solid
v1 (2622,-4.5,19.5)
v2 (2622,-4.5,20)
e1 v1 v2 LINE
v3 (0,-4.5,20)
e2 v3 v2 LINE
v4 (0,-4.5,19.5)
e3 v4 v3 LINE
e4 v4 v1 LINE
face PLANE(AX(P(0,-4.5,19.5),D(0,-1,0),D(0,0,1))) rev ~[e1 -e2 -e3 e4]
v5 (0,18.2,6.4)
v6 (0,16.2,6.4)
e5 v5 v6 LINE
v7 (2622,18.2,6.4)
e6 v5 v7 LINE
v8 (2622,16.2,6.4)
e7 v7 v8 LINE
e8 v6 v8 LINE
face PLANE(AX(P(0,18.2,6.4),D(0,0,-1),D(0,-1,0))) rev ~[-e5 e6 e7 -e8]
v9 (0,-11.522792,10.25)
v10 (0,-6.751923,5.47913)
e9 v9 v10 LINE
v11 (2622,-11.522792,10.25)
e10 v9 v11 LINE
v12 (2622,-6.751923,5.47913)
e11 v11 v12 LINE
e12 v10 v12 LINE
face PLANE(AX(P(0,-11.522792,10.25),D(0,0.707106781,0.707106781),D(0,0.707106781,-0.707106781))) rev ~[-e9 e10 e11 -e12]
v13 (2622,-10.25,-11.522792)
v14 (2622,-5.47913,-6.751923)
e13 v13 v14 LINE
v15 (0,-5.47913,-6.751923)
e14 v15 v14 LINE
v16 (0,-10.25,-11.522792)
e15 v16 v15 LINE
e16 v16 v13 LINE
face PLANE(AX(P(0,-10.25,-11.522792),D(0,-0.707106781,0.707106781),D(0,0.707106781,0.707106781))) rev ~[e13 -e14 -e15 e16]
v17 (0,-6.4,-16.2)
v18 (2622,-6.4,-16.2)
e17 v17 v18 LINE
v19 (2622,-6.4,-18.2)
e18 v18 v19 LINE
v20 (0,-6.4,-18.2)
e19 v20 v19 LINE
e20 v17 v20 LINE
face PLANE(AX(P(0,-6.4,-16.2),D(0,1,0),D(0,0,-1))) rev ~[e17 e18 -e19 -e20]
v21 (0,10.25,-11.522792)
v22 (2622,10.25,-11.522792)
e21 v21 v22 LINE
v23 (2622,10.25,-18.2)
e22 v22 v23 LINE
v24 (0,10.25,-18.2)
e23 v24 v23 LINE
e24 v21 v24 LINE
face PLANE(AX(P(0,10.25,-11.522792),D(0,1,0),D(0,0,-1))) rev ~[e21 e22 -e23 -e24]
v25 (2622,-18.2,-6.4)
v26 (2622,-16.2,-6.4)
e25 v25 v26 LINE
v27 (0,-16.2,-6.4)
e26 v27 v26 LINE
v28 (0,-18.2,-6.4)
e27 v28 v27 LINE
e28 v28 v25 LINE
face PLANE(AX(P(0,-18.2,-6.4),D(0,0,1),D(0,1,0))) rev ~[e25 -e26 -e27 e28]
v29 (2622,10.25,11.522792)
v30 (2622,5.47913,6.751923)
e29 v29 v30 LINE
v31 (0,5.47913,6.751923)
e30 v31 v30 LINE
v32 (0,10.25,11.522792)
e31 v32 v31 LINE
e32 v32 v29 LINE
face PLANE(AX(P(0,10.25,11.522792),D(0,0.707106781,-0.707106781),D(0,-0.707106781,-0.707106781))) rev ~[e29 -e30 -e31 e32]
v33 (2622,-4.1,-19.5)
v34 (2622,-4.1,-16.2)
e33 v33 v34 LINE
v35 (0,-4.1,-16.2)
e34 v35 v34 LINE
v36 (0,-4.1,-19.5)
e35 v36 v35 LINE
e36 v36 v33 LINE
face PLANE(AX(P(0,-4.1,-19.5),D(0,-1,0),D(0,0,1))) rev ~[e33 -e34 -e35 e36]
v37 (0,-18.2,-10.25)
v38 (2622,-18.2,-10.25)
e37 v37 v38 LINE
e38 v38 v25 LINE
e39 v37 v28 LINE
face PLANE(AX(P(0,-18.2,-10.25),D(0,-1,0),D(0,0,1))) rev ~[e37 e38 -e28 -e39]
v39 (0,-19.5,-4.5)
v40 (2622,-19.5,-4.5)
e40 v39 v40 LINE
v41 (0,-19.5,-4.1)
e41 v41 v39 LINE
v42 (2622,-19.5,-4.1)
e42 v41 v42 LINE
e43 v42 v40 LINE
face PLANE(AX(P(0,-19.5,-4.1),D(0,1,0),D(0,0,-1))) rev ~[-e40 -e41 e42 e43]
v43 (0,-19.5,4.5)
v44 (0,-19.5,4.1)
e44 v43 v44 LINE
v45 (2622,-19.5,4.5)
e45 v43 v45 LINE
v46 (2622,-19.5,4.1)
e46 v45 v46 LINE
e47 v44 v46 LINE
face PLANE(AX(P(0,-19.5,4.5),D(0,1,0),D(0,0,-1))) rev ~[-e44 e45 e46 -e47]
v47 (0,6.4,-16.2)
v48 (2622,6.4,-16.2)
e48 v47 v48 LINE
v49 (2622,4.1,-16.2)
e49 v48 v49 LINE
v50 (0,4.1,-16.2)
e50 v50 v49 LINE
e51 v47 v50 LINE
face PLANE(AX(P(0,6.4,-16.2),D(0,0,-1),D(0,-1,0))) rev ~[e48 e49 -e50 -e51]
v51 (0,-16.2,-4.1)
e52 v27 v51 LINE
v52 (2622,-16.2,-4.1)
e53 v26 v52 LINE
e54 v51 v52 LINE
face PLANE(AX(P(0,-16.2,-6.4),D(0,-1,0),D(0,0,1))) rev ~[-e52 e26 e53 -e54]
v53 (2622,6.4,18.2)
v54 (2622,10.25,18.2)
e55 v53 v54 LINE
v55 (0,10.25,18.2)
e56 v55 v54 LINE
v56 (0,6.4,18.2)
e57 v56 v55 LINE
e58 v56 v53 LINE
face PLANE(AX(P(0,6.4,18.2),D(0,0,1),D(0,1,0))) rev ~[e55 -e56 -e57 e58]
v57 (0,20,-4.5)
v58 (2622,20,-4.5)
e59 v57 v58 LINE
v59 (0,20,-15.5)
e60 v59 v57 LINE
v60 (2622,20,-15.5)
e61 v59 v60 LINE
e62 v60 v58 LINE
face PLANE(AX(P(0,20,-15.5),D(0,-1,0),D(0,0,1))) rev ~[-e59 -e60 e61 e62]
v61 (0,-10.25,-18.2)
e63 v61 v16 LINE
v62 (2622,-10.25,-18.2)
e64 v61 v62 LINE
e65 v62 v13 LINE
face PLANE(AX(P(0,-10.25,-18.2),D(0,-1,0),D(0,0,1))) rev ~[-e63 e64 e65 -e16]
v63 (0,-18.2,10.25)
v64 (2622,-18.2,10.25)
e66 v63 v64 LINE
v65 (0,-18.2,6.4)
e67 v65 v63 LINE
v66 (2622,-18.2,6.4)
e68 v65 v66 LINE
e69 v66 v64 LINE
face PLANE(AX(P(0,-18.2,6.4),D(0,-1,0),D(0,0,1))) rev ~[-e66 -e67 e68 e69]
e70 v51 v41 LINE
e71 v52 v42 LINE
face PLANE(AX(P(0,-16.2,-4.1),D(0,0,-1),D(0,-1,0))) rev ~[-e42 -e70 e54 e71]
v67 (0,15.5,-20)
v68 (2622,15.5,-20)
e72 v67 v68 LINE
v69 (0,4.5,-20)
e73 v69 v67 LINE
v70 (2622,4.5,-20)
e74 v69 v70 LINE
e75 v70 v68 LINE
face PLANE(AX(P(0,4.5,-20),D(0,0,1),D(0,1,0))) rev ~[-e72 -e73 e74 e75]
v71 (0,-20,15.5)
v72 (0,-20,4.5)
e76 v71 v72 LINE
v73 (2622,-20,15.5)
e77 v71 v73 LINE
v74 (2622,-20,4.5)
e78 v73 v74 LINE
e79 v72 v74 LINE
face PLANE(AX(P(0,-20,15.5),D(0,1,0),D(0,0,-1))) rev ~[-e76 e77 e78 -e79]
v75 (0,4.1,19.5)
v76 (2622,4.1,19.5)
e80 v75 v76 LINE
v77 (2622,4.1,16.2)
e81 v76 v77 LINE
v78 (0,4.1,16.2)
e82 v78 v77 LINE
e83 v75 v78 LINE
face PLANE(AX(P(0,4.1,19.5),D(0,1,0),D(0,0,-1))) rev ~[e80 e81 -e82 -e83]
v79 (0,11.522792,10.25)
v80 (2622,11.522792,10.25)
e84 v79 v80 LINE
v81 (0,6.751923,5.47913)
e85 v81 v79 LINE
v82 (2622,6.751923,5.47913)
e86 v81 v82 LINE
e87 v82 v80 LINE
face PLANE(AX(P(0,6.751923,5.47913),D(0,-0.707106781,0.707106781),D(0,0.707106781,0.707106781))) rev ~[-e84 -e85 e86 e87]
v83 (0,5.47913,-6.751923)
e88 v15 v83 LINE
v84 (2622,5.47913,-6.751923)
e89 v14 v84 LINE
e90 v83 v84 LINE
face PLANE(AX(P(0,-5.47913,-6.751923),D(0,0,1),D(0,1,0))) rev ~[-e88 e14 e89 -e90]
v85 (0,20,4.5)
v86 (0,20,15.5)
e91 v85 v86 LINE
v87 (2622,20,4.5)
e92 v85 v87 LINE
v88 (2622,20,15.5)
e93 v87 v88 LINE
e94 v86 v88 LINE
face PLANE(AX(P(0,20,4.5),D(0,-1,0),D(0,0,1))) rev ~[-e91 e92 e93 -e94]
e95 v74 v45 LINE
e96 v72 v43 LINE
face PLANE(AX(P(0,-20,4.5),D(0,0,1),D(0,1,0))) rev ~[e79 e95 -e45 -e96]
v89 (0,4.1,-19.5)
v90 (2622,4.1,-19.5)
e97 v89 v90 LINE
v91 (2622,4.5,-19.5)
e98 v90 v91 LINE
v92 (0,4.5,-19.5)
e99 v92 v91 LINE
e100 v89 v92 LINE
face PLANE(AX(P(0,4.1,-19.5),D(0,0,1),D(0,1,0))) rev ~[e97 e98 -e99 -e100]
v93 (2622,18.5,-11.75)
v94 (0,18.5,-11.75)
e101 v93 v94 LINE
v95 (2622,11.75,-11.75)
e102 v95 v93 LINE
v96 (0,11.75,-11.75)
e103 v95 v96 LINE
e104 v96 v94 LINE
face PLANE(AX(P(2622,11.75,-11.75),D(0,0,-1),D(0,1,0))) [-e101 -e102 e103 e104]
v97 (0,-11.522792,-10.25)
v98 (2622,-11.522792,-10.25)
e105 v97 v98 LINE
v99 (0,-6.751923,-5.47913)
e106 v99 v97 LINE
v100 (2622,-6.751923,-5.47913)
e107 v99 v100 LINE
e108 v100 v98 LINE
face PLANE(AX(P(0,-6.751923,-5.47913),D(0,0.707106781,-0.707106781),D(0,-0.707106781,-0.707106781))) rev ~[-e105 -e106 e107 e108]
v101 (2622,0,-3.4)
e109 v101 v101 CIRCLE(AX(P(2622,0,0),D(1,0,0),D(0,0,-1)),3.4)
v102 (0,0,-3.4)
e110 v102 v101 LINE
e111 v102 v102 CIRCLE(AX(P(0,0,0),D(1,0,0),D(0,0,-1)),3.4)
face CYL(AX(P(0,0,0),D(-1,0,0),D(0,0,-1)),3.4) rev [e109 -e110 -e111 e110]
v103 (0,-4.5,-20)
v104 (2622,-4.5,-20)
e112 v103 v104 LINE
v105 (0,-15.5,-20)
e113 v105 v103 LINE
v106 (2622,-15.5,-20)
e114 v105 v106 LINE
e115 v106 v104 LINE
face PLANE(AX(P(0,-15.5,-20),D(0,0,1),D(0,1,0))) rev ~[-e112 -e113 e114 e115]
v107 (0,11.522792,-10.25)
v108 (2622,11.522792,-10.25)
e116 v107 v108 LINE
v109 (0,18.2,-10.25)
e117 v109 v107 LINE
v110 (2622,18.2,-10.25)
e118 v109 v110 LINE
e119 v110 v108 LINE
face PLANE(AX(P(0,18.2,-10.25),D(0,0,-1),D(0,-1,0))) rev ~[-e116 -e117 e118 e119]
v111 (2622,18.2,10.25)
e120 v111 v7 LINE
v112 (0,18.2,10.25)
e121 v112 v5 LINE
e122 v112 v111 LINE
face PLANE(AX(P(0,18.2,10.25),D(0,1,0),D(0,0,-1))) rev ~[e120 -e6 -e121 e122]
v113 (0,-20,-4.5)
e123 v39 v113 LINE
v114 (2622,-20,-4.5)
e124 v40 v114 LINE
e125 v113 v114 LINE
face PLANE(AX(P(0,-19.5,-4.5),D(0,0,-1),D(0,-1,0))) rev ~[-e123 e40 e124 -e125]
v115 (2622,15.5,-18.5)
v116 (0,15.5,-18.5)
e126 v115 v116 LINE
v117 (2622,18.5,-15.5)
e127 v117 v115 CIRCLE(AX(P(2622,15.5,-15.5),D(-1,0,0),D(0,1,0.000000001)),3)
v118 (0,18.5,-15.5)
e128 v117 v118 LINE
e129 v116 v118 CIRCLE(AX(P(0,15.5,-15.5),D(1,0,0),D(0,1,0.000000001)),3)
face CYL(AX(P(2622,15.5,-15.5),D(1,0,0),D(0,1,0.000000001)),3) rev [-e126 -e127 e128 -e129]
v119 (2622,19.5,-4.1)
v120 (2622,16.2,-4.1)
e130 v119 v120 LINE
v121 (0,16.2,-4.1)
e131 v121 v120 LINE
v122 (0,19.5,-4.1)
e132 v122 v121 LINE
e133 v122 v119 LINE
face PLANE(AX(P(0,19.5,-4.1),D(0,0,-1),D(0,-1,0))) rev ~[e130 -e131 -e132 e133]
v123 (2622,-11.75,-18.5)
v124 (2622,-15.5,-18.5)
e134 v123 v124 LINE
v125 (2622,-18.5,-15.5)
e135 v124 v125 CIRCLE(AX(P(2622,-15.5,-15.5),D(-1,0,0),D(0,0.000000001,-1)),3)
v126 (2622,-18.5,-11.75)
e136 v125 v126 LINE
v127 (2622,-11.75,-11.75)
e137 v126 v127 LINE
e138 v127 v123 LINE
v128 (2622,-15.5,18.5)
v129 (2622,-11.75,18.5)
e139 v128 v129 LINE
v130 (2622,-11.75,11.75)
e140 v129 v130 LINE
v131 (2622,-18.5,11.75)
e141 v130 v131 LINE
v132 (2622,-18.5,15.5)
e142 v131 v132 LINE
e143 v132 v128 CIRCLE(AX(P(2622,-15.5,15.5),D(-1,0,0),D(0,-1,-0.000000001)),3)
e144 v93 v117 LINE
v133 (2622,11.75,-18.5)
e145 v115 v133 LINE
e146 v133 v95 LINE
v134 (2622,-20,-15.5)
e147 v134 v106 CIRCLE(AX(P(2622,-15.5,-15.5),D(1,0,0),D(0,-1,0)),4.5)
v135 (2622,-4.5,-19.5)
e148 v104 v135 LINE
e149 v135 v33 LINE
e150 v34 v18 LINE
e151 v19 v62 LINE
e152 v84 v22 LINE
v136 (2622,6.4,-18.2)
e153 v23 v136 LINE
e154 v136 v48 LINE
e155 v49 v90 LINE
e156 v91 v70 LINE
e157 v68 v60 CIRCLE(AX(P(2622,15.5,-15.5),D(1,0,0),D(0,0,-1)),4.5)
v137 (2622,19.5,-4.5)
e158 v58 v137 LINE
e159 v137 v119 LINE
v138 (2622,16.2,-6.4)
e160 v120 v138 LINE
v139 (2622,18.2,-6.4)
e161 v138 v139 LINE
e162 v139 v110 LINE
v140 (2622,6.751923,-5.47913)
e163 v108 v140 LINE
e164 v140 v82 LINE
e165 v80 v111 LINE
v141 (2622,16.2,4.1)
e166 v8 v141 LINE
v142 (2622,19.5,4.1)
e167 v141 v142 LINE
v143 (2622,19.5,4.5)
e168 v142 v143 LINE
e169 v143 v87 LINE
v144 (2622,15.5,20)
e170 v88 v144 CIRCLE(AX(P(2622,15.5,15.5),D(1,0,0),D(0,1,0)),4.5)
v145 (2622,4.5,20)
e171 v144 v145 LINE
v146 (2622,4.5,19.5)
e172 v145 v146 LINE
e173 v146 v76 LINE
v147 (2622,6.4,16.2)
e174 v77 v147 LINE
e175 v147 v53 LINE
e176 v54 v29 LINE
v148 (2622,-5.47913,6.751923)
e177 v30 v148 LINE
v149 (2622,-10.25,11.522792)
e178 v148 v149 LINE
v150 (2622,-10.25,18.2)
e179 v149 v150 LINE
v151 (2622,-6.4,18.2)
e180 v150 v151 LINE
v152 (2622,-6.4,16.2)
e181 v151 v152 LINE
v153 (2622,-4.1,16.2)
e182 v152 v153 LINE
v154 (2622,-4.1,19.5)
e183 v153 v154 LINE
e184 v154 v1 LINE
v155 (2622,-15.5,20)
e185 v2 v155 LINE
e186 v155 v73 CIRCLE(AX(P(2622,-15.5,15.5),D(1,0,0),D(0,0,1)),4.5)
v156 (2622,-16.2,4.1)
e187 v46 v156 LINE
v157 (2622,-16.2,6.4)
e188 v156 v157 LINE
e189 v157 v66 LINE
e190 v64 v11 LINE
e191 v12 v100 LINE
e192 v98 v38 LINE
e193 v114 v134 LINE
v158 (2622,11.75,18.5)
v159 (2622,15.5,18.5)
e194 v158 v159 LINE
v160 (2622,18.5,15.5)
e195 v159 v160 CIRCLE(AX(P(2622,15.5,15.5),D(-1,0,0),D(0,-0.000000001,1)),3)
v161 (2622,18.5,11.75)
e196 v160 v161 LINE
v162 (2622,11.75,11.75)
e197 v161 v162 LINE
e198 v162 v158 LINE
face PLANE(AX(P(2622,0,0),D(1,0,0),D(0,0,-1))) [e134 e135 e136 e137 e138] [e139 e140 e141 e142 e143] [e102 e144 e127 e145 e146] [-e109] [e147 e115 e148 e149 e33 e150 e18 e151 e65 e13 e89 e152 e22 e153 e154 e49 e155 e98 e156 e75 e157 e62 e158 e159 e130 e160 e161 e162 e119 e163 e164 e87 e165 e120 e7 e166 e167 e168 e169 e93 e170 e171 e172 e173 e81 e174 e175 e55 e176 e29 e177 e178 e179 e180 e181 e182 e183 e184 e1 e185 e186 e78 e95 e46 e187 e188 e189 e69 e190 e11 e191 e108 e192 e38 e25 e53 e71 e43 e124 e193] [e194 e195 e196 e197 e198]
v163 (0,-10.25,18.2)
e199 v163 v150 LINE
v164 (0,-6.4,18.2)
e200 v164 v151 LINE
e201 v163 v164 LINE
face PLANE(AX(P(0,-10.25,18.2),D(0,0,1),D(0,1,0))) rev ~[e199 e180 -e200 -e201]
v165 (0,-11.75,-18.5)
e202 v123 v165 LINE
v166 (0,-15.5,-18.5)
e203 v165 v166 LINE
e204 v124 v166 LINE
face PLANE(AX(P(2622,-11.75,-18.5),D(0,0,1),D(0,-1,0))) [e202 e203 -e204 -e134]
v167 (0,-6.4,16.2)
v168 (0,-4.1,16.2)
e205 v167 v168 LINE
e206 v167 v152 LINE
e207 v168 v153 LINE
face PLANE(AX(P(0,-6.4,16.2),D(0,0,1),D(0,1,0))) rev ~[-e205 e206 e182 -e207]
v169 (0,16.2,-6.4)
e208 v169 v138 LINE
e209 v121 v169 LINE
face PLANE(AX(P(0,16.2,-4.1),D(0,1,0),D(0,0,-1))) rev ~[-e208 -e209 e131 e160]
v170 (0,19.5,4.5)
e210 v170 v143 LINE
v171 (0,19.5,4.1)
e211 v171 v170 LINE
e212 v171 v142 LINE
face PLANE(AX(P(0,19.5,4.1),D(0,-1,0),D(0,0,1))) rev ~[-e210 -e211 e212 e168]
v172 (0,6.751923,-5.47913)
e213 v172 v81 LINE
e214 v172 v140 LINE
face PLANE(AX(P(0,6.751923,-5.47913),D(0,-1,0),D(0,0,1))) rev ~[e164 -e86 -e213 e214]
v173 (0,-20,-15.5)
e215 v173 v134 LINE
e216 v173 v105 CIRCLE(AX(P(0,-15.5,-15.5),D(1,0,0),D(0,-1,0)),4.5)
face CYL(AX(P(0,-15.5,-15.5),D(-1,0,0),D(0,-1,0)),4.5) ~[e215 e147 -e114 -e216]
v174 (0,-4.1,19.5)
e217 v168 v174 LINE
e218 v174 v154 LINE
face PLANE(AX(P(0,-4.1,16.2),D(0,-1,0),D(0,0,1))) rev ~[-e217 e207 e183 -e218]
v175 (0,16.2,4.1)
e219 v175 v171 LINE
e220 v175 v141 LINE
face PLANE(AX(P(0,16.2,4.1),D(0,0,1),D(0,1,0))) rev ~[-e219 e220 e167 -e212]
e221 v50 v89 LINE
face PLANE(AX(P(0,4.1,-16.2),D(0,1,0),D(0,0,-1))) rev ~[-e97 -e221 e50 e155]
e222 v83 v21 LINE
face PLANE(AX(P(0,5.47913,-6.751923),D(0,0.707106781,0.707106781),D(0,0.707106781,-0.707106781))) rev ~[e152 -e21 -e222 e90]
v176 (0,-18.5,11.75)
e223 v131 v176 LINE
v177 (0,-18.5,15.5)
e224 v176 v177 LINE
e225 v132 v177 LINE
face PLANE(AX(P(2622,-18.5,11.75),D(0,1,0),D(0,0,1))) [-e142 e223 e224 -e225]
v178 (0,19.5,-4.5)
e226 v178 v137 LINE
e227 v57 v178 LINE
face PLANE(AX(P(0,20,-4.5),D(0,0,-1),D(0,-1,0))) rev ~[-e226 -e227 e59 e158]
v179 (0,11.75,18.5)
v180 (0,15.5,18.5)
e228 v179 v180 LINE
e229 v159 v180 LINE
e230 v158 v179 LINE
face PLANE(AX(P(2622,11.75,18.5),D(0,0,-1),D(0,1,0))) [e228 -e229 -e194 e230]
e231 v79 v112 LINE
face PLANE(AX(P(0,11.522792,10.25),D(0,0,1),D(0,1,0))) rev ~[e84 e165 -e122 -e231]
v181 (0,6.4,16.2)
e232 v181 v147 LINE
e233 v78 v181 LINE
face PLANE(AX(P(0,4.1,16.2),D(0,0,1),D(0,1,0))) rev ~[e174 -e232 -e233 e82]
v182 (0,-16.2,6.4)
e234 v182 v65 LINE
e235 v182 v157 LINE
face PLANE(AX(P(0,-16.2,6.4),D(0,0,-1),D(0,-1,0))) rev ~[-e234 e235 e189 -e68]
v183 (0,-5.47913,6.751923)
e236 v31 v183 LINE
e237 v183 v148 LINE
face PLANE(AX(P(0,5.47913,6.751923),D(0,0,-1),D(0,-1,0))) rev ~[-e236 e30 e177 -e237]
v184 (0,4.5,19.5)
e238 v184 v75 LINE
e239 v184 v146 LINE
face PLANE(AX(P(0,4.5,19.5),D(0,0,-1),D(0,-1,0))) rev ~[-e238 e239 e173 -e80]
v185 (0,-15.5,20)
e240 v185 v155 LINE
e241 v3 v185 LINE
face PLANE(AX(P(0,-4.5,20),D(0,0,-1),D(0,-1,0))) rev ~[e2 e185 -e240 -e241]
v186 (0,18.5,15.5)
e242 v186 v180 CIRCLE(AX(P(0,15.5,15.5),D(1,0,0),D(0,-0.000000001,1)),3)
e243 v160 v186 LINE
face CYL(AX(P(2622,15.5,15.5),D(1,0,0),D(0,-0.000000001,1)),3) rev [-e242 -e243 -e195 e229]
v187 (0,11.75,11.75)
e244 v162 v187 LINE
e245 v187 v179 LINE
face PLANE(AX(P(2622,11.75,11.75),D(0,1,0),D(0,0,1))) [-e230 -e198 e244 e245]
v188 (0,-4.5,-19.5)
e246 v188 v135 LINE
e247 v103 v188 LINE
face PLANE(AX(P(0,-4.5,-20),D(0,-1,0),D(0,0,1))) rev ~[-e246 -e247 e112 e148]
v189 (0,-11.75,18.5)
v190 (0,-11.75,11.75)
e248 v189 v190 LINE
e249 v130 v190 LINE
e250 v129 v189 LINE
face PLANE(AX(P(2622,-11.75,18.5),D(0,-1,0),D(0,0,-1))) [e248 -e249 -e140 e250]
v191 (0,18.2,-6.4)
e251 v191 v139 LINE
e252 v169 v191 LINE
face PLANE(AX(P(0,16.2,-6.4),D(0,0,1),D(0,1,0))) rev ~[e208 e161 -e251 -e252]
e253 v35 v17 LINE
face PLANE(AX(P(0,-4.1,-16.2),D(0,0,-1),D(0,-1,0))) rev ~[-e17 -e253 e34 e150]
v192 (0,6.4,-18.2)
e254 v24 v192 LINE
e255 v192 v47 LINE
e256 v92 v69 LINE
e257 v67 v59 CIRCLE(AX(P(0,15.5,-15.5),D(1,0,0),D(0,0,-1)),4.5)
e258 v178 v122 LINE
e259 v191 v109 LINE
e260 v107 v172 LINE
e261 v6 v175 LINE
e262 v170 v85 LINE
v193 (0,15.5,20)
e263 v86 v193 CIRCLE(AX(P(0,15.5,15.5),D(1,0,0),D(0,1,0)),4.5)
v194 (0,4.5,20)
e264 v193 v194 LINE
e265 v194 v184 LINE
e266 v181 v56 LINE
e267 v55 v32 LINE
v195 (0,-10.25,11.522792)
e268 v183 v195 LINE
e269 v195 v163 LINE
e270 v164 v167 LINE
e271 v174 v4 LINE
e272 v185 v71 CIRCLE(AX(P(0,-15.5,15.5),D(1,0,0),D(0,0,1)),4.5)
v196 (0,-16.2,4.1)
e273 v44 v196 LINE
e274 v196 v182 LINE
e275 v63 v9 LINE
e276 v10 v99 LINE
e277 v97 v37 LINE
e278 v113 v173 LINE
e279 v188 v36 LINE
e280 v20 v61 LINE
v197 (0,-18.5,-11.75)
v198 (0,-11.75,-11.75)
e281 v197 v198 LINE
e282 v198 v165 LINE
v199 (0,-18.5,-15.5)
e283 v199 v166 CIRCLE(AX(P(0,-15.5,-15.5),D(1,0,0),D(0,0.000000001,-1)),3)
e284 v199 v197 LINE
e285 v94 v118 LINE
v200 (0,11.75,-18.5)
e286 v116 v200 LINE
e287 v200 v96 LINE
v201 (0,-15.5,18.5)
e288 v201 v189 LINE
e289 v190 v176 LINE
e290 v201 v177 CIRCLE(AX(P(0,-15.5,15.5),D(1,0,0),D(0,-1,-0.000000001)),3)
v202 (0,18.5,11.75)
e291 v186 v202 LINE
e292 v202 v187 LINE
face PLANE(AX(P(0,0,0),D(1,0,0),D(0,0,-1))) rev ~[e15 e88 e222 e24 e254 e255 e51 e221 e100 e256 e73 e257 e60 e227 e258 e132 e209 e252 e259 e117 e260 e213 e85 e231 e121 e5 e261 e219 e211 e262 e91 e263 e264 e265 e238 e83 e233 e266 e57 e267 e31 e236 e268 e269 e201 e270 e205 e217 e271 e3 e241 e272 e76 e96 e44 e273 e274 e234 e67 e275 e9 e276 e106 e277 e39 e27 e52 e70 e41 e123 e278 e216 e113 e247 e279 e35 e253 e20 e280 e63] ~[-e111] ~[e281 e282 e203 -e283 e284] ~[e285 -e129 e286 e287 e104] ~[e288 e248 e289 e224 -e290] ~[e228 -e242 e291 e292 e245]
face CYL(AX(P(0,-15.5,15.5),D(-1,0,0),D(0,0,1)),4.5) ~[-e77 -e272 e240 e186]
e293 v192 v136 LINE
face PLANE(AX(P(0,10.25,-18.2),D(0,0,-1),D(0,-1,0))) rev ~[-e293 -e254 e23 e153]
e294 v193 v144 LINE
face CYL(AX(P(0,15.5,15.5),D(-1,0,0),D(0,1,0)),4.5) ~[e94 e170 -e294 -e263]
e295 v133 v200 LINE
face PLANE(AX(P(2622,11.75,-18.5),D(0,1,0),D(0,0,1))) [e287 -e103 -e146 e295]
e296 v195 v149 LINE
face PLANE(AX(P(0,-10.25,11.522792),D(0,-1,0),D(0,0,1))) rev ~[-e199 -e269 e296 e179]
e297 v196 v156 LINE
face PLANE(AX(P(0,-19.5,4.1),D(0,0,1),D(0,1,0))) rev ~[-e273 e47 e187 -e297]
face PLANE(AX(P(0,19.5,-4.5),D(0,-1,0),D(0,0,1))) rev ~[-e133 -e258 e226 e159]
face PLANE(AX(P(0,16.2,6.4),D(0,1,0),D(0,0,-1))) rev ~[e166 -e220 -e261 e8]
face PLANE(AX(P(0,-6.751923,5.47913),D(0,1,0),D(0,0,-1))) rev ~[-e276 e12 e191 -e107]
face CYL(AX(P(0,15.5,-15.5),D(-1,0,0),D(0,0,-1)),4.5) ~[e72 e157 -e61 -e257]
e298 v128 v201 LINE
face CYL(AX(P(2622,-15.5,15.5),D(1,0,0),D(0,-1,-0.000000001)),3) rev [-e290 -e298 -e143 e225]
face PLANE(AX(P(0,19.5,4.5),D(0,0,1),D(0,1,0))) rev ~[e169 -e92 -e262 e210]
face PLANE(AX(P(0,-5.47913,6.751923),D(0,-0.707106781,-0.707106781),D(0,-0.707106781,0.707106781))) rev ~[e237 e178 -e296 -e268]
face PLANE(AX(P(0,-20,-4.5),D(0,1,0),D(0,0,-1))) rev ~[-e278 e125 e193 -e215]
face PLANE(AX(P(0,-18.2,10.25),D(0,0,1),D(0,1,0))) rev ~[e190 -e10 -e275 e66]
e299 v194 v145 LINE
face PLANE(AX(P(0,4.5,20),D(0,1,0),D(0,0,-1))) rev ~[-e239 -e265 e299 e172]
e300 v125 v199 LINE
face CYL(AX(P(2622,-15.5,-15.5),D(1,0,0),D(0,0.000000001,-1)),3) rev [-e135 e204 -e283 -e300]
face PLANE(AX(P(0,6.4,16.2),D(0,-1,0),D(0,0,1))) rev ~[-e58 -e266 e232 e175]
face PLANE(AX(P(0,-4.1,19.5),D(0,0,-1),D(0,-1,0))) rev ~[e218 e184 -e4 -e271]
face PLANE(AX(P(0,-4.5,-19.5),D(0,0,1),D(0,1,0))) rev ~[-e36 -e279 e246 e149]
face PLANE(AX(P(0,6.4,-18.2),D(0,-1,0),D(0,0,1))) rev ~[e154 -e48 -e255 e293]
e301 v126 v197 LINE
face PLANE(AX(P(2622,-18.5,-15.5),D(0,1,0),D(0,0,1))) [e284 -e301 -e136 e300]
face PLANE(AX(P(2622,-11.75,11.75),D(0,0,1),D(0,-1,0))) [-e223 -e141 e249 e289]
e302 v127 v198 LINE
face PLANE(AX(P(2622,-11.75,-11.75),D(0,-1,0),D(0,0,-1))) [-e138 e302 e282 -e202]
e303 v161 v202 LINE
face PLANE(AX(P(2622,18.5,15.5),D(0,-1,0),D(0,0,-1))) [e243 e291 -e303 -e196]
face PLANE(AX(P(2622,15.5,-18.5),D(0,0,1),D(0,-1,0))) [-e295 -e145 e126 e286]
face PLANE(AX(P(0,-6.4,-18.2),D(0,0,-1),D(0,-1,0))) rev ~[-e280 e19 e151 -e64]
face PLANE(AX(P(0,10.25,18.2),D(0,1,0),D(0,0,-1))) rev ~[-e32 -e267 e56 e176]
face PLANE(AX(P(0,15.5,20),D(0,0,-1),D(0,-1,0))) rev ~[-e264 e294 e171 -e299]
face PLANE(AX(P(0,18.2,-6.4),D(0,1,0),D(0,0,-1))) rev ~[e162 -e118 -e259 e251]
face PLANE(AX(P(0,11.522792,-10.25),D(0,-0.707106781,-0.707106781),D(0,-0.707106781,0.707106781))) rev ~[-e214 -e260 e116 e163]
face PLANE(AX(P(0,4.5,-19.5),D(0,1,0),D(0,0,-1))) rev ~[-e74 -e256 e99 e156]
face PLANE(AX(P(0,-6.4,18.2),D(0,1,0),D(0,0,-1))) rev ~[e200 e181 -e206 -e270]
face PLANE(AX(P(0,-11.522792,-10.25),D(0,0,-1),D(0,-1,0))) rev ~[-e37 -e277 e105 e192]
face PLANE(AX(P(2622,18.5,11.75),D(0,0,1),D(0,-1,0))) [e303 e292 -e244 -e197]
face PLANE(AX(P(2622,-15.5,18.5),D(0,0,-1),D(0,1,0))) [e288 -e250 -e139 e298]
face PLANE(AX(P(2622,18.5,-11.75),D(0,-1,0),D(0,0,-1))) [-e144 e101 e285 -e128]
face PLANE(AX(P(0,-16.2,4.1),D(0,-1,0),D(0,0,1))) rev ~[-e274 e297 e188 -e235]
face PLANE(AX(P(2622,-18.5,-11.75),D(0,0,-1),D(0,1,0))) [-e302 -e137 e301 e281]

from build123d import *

# Parameters (mm, degrees)
SKETCH_3_R          = 3.4
EXTRUDE_1_DEPTH     = 2622
CUT_EXTRUDE_3_DEPTH = 3297


with BuildPart() as part:
    # 草图3 → 凸台-拉伸1 (new body)
    with BuildSketch(Plane(origin=(0, 0, 0), x_dir=(0, 0, -1), z_dir=(1, 0, 0))):
        with BuildLine():
            Line((-15.5, -20), (-4.5, -20))
            Line((-4.5, -20), (-4.5, -19.5))
            Line((-4.5, -19.5), (-4.1, -19.5))
            Line((-4.1, -19.5), (-4.1, -16.2))
            Line((-4.1, -16.2), (-6.4, -16.2))
            Line((-6.4, -16.2), (-6.4, -18.2))
            Line((-6.4, -18.2), (-10.25, -18.2))
            Line((-10.25, -18.2), (-10.25, -11.522792206))
            Line((-10.25, -11.522792206), (-5.479130441, -6.751922647))
            Line((-5.479130441, -6.751922647), (5.479130441, -6.751922647))
            Line((5.479130441, -6.751922647), (10.25, -11.522792206))
            Line((10.25, -11.522792206), (10.25, -18.2))
            Line((10.25, -18.2), (6.4, -18.2))
            Line((6.4, -18.2), (6.4, -16.2))
            Line((6.4, -16.2), (4.1, -16.2))
            Line((4.1, -16.2), (4.1, -19.5))
            Line((4.1, -19.5), (4.5, -19.5))
            Line((4.5, -19.5), (4.5, -20))
            Line((4.5, -20), (15.5, -20))
            ThreePointArc((15.5, -20), (18.681980515, -18.681980515), (20, -15.5))
            Line((20, -15.5), (20, -4.5))
            Line((20, -4.5), (19.5, -4.5))
            Line((19.5, -4.5), (19.5, -4.1))
            Line((19.5, -4.1), (16.2, -4.1))
            Line((16.2, -4.1), (16.2, -6.4))
            Line((16.2, -6.4), (18.2, -6.4))
            Line((18.2, -6.4), (18.2, -10.25))
            Line((18.2, -10.25), (11.522792206, -10.25))
            Line((11.522792206, -10.25), (6.751922647, -5.479130441))
            Line((6.751922647, -5.479130441), (6.751922647, 5.479130441))
            Line((6.751922647, 5.479130441), (11.522792206, 10.25))
            Line((11.522792206, 10.25), (18.2, 10.25))
            Line((18.2, 10.25), (18.2, 6.4))
            Line((18.2, 6.4), (16.2, 6.4))
            Line((16.2, 6.4), (16.2, 4.1))
            Line((16.2, 4.1), (19.5, 4.1))
            Line((19.5, 4.1), (19.5, 4.5))
            Line((19.5, 4.5), (20, 4.5))
            Line((20, 4.5), (20, 15.5))
            ThreePointArc((20, 15.5), (18.681980515, 18.681980515), (15.5, 20))
            Line((15.5, 20), (4.5, 20))
            Line((4.5, 20), (4.5, 19.5))
            Line((4.5, 19.5), (4.1, 19.5))
            Line((4.1, 19.5), (4.1, 16.2))
            Line((4.1, 16.2), (6.4, 16.2))
            Line((6.4, 16.2), (6.4, 18.2))
            Line((6.4, 18.2), (10.25, 18.2))
            Line((10.25, 18.2), (10.25, 11.522792206))
            Line((10.25, 11.522792206), (5.479130441, 6.751922647))
            Line((5.479130441, 6.751922647), (-5.479130441, 6.751922647))
            Line((-5.479130441, 6.751922647), (-10.25, 11.522792206))
            Line((-10.25, 11.522792206), (-10.25, 18.2))
            Line((-10.25, 18.2), (-6.4, 18.2))
            Line((-6.4, 18.2), (-6.4, 16.2))
            Line((-6.4, 16.2), (-4.1, 16.2))
            Line((-4.1, 16.2), (-4.1, 19.5))
            Line((-4.1, 19.5), (-4.5, 19.5))
            Line((-4.5, 19.5), (-4.5, 20))
            Line((-4.5, 20), (-15.5, 20))
            ThreePointArc((-15.5, 20), (-18.681980515, 18.681980515), (-20, 15.5))
            Line((-20, 15.5), (-20, 4.5))
            Line((-20, 4.5), (-19.5, 4.5))
            Line((-19.5, 4.5), (-19.5, 4.1))
            Line((-19.5, 4.1), (-16.2, 4.1))
            Line((-16.2, 4.1), (-16.2, 6.4))
            Line((-16.2, 6.4), (-18.2, 6.4))
            Line((-18.2, 6.4), (-18.2, 10.25))
            Line((-18.2, 10.25), (-11.522792206, 10.25))
            Line((-11.522792206, 10.25), (-6.751922647, 5.479130441))
            Line((-6.751922647, 5.479130441), (-6.751922647, -5.479130441))
            Line((-6.751922647, -5.479130441), (-11.522792206, -10.25))
            Line((-11.522792206, -10.25), (-18.2, -10.25))
            Line((-18.2, -10.25), (-18.2, -6.4))
            Line((-18.2, -6.4), (-16.2, -6.4))
            Line((-16.2, -6.4), (-16.2, -4.1))
            Line((-16.2, -4.1), (-19.5, -4.1))
            Line((-19.5, -4.1), (-19.5, -4.5))
            Line((-19.5, -4.5), (-20, -4.5))
            Line((-20, -4.5), (-20, -15.5))
            ThreePointArc((-20, -15.5), (-18.681980515, -18.681980515), (-15.5, -20))
        make_face()
        Circle(SKETCH_3_R, mode=Mode.SUBTRACT)
    extrude(amount=EXTRUDE_1_DEPTH)

    # 草图4 → 切除-拉伸3 (cut)
    with BuildSketch(Plane(origin=(2622, -20, 15.5), x_dir=(0, 0, 1), z_dir=(-1, 0, 0))):
        with BuildLine():
            Line((-3.75, 31.75), (3, 31.75))
            Line((3, 31.75), (3, 35.5))
            ThreePointArc((3, 35.5), (2.121320344, 37.621320344), (0, 38.5))
            Line((0, 38.5), (-3.75, 38.5))
            Line((-3.75, 38.5), (-3.75, 31.75))
        make_face()
        with BuildLine():
            Line((-3.75, 8.25), (-3.75, 1.5))
            Line((-3.75, 1.5), (0, 1.5))
            ThreePointArc((0, 1.5), (2.121320344, 2.378679656), (3, 4.5))
            Line((3, 4.5), (3, 8.25))
            Line((3, 8.25), (-3.75, 8.25))
        make_face()
        with BuildLine():
            Line((-27.25, 8.25), (-34, 8.25))
            Line((-34, 8.25), (-34, 4.5))
            ThreePointArc((-34, 4.5), (-33.121320344, 2.378679656), (-31, 1.5))
            Line((-31, 1.5), (-27.25, 1.5))
            Line((-27.25, 1.5), (-27.25, 8.25))
        make_face()
        with BuildLine():
            Line((-27.25, 31.75), (-27.25, 38.5))
            Line((-27.25, 38.5), (-31, 38.5))
            ThreePointArc((-31, 38.5), (-33.121320344, 37.621320344), (-34, 35.5))
            Line((-34, 35.5), (-34, 31.75))
            Line((-34, 31.75), (-27.25, 31.75))
        make_face()
    extrude(amount=CUT_EXTRUDE_3_DEPTH, mode=Mode.SUBTRACT)


solid = part.part
